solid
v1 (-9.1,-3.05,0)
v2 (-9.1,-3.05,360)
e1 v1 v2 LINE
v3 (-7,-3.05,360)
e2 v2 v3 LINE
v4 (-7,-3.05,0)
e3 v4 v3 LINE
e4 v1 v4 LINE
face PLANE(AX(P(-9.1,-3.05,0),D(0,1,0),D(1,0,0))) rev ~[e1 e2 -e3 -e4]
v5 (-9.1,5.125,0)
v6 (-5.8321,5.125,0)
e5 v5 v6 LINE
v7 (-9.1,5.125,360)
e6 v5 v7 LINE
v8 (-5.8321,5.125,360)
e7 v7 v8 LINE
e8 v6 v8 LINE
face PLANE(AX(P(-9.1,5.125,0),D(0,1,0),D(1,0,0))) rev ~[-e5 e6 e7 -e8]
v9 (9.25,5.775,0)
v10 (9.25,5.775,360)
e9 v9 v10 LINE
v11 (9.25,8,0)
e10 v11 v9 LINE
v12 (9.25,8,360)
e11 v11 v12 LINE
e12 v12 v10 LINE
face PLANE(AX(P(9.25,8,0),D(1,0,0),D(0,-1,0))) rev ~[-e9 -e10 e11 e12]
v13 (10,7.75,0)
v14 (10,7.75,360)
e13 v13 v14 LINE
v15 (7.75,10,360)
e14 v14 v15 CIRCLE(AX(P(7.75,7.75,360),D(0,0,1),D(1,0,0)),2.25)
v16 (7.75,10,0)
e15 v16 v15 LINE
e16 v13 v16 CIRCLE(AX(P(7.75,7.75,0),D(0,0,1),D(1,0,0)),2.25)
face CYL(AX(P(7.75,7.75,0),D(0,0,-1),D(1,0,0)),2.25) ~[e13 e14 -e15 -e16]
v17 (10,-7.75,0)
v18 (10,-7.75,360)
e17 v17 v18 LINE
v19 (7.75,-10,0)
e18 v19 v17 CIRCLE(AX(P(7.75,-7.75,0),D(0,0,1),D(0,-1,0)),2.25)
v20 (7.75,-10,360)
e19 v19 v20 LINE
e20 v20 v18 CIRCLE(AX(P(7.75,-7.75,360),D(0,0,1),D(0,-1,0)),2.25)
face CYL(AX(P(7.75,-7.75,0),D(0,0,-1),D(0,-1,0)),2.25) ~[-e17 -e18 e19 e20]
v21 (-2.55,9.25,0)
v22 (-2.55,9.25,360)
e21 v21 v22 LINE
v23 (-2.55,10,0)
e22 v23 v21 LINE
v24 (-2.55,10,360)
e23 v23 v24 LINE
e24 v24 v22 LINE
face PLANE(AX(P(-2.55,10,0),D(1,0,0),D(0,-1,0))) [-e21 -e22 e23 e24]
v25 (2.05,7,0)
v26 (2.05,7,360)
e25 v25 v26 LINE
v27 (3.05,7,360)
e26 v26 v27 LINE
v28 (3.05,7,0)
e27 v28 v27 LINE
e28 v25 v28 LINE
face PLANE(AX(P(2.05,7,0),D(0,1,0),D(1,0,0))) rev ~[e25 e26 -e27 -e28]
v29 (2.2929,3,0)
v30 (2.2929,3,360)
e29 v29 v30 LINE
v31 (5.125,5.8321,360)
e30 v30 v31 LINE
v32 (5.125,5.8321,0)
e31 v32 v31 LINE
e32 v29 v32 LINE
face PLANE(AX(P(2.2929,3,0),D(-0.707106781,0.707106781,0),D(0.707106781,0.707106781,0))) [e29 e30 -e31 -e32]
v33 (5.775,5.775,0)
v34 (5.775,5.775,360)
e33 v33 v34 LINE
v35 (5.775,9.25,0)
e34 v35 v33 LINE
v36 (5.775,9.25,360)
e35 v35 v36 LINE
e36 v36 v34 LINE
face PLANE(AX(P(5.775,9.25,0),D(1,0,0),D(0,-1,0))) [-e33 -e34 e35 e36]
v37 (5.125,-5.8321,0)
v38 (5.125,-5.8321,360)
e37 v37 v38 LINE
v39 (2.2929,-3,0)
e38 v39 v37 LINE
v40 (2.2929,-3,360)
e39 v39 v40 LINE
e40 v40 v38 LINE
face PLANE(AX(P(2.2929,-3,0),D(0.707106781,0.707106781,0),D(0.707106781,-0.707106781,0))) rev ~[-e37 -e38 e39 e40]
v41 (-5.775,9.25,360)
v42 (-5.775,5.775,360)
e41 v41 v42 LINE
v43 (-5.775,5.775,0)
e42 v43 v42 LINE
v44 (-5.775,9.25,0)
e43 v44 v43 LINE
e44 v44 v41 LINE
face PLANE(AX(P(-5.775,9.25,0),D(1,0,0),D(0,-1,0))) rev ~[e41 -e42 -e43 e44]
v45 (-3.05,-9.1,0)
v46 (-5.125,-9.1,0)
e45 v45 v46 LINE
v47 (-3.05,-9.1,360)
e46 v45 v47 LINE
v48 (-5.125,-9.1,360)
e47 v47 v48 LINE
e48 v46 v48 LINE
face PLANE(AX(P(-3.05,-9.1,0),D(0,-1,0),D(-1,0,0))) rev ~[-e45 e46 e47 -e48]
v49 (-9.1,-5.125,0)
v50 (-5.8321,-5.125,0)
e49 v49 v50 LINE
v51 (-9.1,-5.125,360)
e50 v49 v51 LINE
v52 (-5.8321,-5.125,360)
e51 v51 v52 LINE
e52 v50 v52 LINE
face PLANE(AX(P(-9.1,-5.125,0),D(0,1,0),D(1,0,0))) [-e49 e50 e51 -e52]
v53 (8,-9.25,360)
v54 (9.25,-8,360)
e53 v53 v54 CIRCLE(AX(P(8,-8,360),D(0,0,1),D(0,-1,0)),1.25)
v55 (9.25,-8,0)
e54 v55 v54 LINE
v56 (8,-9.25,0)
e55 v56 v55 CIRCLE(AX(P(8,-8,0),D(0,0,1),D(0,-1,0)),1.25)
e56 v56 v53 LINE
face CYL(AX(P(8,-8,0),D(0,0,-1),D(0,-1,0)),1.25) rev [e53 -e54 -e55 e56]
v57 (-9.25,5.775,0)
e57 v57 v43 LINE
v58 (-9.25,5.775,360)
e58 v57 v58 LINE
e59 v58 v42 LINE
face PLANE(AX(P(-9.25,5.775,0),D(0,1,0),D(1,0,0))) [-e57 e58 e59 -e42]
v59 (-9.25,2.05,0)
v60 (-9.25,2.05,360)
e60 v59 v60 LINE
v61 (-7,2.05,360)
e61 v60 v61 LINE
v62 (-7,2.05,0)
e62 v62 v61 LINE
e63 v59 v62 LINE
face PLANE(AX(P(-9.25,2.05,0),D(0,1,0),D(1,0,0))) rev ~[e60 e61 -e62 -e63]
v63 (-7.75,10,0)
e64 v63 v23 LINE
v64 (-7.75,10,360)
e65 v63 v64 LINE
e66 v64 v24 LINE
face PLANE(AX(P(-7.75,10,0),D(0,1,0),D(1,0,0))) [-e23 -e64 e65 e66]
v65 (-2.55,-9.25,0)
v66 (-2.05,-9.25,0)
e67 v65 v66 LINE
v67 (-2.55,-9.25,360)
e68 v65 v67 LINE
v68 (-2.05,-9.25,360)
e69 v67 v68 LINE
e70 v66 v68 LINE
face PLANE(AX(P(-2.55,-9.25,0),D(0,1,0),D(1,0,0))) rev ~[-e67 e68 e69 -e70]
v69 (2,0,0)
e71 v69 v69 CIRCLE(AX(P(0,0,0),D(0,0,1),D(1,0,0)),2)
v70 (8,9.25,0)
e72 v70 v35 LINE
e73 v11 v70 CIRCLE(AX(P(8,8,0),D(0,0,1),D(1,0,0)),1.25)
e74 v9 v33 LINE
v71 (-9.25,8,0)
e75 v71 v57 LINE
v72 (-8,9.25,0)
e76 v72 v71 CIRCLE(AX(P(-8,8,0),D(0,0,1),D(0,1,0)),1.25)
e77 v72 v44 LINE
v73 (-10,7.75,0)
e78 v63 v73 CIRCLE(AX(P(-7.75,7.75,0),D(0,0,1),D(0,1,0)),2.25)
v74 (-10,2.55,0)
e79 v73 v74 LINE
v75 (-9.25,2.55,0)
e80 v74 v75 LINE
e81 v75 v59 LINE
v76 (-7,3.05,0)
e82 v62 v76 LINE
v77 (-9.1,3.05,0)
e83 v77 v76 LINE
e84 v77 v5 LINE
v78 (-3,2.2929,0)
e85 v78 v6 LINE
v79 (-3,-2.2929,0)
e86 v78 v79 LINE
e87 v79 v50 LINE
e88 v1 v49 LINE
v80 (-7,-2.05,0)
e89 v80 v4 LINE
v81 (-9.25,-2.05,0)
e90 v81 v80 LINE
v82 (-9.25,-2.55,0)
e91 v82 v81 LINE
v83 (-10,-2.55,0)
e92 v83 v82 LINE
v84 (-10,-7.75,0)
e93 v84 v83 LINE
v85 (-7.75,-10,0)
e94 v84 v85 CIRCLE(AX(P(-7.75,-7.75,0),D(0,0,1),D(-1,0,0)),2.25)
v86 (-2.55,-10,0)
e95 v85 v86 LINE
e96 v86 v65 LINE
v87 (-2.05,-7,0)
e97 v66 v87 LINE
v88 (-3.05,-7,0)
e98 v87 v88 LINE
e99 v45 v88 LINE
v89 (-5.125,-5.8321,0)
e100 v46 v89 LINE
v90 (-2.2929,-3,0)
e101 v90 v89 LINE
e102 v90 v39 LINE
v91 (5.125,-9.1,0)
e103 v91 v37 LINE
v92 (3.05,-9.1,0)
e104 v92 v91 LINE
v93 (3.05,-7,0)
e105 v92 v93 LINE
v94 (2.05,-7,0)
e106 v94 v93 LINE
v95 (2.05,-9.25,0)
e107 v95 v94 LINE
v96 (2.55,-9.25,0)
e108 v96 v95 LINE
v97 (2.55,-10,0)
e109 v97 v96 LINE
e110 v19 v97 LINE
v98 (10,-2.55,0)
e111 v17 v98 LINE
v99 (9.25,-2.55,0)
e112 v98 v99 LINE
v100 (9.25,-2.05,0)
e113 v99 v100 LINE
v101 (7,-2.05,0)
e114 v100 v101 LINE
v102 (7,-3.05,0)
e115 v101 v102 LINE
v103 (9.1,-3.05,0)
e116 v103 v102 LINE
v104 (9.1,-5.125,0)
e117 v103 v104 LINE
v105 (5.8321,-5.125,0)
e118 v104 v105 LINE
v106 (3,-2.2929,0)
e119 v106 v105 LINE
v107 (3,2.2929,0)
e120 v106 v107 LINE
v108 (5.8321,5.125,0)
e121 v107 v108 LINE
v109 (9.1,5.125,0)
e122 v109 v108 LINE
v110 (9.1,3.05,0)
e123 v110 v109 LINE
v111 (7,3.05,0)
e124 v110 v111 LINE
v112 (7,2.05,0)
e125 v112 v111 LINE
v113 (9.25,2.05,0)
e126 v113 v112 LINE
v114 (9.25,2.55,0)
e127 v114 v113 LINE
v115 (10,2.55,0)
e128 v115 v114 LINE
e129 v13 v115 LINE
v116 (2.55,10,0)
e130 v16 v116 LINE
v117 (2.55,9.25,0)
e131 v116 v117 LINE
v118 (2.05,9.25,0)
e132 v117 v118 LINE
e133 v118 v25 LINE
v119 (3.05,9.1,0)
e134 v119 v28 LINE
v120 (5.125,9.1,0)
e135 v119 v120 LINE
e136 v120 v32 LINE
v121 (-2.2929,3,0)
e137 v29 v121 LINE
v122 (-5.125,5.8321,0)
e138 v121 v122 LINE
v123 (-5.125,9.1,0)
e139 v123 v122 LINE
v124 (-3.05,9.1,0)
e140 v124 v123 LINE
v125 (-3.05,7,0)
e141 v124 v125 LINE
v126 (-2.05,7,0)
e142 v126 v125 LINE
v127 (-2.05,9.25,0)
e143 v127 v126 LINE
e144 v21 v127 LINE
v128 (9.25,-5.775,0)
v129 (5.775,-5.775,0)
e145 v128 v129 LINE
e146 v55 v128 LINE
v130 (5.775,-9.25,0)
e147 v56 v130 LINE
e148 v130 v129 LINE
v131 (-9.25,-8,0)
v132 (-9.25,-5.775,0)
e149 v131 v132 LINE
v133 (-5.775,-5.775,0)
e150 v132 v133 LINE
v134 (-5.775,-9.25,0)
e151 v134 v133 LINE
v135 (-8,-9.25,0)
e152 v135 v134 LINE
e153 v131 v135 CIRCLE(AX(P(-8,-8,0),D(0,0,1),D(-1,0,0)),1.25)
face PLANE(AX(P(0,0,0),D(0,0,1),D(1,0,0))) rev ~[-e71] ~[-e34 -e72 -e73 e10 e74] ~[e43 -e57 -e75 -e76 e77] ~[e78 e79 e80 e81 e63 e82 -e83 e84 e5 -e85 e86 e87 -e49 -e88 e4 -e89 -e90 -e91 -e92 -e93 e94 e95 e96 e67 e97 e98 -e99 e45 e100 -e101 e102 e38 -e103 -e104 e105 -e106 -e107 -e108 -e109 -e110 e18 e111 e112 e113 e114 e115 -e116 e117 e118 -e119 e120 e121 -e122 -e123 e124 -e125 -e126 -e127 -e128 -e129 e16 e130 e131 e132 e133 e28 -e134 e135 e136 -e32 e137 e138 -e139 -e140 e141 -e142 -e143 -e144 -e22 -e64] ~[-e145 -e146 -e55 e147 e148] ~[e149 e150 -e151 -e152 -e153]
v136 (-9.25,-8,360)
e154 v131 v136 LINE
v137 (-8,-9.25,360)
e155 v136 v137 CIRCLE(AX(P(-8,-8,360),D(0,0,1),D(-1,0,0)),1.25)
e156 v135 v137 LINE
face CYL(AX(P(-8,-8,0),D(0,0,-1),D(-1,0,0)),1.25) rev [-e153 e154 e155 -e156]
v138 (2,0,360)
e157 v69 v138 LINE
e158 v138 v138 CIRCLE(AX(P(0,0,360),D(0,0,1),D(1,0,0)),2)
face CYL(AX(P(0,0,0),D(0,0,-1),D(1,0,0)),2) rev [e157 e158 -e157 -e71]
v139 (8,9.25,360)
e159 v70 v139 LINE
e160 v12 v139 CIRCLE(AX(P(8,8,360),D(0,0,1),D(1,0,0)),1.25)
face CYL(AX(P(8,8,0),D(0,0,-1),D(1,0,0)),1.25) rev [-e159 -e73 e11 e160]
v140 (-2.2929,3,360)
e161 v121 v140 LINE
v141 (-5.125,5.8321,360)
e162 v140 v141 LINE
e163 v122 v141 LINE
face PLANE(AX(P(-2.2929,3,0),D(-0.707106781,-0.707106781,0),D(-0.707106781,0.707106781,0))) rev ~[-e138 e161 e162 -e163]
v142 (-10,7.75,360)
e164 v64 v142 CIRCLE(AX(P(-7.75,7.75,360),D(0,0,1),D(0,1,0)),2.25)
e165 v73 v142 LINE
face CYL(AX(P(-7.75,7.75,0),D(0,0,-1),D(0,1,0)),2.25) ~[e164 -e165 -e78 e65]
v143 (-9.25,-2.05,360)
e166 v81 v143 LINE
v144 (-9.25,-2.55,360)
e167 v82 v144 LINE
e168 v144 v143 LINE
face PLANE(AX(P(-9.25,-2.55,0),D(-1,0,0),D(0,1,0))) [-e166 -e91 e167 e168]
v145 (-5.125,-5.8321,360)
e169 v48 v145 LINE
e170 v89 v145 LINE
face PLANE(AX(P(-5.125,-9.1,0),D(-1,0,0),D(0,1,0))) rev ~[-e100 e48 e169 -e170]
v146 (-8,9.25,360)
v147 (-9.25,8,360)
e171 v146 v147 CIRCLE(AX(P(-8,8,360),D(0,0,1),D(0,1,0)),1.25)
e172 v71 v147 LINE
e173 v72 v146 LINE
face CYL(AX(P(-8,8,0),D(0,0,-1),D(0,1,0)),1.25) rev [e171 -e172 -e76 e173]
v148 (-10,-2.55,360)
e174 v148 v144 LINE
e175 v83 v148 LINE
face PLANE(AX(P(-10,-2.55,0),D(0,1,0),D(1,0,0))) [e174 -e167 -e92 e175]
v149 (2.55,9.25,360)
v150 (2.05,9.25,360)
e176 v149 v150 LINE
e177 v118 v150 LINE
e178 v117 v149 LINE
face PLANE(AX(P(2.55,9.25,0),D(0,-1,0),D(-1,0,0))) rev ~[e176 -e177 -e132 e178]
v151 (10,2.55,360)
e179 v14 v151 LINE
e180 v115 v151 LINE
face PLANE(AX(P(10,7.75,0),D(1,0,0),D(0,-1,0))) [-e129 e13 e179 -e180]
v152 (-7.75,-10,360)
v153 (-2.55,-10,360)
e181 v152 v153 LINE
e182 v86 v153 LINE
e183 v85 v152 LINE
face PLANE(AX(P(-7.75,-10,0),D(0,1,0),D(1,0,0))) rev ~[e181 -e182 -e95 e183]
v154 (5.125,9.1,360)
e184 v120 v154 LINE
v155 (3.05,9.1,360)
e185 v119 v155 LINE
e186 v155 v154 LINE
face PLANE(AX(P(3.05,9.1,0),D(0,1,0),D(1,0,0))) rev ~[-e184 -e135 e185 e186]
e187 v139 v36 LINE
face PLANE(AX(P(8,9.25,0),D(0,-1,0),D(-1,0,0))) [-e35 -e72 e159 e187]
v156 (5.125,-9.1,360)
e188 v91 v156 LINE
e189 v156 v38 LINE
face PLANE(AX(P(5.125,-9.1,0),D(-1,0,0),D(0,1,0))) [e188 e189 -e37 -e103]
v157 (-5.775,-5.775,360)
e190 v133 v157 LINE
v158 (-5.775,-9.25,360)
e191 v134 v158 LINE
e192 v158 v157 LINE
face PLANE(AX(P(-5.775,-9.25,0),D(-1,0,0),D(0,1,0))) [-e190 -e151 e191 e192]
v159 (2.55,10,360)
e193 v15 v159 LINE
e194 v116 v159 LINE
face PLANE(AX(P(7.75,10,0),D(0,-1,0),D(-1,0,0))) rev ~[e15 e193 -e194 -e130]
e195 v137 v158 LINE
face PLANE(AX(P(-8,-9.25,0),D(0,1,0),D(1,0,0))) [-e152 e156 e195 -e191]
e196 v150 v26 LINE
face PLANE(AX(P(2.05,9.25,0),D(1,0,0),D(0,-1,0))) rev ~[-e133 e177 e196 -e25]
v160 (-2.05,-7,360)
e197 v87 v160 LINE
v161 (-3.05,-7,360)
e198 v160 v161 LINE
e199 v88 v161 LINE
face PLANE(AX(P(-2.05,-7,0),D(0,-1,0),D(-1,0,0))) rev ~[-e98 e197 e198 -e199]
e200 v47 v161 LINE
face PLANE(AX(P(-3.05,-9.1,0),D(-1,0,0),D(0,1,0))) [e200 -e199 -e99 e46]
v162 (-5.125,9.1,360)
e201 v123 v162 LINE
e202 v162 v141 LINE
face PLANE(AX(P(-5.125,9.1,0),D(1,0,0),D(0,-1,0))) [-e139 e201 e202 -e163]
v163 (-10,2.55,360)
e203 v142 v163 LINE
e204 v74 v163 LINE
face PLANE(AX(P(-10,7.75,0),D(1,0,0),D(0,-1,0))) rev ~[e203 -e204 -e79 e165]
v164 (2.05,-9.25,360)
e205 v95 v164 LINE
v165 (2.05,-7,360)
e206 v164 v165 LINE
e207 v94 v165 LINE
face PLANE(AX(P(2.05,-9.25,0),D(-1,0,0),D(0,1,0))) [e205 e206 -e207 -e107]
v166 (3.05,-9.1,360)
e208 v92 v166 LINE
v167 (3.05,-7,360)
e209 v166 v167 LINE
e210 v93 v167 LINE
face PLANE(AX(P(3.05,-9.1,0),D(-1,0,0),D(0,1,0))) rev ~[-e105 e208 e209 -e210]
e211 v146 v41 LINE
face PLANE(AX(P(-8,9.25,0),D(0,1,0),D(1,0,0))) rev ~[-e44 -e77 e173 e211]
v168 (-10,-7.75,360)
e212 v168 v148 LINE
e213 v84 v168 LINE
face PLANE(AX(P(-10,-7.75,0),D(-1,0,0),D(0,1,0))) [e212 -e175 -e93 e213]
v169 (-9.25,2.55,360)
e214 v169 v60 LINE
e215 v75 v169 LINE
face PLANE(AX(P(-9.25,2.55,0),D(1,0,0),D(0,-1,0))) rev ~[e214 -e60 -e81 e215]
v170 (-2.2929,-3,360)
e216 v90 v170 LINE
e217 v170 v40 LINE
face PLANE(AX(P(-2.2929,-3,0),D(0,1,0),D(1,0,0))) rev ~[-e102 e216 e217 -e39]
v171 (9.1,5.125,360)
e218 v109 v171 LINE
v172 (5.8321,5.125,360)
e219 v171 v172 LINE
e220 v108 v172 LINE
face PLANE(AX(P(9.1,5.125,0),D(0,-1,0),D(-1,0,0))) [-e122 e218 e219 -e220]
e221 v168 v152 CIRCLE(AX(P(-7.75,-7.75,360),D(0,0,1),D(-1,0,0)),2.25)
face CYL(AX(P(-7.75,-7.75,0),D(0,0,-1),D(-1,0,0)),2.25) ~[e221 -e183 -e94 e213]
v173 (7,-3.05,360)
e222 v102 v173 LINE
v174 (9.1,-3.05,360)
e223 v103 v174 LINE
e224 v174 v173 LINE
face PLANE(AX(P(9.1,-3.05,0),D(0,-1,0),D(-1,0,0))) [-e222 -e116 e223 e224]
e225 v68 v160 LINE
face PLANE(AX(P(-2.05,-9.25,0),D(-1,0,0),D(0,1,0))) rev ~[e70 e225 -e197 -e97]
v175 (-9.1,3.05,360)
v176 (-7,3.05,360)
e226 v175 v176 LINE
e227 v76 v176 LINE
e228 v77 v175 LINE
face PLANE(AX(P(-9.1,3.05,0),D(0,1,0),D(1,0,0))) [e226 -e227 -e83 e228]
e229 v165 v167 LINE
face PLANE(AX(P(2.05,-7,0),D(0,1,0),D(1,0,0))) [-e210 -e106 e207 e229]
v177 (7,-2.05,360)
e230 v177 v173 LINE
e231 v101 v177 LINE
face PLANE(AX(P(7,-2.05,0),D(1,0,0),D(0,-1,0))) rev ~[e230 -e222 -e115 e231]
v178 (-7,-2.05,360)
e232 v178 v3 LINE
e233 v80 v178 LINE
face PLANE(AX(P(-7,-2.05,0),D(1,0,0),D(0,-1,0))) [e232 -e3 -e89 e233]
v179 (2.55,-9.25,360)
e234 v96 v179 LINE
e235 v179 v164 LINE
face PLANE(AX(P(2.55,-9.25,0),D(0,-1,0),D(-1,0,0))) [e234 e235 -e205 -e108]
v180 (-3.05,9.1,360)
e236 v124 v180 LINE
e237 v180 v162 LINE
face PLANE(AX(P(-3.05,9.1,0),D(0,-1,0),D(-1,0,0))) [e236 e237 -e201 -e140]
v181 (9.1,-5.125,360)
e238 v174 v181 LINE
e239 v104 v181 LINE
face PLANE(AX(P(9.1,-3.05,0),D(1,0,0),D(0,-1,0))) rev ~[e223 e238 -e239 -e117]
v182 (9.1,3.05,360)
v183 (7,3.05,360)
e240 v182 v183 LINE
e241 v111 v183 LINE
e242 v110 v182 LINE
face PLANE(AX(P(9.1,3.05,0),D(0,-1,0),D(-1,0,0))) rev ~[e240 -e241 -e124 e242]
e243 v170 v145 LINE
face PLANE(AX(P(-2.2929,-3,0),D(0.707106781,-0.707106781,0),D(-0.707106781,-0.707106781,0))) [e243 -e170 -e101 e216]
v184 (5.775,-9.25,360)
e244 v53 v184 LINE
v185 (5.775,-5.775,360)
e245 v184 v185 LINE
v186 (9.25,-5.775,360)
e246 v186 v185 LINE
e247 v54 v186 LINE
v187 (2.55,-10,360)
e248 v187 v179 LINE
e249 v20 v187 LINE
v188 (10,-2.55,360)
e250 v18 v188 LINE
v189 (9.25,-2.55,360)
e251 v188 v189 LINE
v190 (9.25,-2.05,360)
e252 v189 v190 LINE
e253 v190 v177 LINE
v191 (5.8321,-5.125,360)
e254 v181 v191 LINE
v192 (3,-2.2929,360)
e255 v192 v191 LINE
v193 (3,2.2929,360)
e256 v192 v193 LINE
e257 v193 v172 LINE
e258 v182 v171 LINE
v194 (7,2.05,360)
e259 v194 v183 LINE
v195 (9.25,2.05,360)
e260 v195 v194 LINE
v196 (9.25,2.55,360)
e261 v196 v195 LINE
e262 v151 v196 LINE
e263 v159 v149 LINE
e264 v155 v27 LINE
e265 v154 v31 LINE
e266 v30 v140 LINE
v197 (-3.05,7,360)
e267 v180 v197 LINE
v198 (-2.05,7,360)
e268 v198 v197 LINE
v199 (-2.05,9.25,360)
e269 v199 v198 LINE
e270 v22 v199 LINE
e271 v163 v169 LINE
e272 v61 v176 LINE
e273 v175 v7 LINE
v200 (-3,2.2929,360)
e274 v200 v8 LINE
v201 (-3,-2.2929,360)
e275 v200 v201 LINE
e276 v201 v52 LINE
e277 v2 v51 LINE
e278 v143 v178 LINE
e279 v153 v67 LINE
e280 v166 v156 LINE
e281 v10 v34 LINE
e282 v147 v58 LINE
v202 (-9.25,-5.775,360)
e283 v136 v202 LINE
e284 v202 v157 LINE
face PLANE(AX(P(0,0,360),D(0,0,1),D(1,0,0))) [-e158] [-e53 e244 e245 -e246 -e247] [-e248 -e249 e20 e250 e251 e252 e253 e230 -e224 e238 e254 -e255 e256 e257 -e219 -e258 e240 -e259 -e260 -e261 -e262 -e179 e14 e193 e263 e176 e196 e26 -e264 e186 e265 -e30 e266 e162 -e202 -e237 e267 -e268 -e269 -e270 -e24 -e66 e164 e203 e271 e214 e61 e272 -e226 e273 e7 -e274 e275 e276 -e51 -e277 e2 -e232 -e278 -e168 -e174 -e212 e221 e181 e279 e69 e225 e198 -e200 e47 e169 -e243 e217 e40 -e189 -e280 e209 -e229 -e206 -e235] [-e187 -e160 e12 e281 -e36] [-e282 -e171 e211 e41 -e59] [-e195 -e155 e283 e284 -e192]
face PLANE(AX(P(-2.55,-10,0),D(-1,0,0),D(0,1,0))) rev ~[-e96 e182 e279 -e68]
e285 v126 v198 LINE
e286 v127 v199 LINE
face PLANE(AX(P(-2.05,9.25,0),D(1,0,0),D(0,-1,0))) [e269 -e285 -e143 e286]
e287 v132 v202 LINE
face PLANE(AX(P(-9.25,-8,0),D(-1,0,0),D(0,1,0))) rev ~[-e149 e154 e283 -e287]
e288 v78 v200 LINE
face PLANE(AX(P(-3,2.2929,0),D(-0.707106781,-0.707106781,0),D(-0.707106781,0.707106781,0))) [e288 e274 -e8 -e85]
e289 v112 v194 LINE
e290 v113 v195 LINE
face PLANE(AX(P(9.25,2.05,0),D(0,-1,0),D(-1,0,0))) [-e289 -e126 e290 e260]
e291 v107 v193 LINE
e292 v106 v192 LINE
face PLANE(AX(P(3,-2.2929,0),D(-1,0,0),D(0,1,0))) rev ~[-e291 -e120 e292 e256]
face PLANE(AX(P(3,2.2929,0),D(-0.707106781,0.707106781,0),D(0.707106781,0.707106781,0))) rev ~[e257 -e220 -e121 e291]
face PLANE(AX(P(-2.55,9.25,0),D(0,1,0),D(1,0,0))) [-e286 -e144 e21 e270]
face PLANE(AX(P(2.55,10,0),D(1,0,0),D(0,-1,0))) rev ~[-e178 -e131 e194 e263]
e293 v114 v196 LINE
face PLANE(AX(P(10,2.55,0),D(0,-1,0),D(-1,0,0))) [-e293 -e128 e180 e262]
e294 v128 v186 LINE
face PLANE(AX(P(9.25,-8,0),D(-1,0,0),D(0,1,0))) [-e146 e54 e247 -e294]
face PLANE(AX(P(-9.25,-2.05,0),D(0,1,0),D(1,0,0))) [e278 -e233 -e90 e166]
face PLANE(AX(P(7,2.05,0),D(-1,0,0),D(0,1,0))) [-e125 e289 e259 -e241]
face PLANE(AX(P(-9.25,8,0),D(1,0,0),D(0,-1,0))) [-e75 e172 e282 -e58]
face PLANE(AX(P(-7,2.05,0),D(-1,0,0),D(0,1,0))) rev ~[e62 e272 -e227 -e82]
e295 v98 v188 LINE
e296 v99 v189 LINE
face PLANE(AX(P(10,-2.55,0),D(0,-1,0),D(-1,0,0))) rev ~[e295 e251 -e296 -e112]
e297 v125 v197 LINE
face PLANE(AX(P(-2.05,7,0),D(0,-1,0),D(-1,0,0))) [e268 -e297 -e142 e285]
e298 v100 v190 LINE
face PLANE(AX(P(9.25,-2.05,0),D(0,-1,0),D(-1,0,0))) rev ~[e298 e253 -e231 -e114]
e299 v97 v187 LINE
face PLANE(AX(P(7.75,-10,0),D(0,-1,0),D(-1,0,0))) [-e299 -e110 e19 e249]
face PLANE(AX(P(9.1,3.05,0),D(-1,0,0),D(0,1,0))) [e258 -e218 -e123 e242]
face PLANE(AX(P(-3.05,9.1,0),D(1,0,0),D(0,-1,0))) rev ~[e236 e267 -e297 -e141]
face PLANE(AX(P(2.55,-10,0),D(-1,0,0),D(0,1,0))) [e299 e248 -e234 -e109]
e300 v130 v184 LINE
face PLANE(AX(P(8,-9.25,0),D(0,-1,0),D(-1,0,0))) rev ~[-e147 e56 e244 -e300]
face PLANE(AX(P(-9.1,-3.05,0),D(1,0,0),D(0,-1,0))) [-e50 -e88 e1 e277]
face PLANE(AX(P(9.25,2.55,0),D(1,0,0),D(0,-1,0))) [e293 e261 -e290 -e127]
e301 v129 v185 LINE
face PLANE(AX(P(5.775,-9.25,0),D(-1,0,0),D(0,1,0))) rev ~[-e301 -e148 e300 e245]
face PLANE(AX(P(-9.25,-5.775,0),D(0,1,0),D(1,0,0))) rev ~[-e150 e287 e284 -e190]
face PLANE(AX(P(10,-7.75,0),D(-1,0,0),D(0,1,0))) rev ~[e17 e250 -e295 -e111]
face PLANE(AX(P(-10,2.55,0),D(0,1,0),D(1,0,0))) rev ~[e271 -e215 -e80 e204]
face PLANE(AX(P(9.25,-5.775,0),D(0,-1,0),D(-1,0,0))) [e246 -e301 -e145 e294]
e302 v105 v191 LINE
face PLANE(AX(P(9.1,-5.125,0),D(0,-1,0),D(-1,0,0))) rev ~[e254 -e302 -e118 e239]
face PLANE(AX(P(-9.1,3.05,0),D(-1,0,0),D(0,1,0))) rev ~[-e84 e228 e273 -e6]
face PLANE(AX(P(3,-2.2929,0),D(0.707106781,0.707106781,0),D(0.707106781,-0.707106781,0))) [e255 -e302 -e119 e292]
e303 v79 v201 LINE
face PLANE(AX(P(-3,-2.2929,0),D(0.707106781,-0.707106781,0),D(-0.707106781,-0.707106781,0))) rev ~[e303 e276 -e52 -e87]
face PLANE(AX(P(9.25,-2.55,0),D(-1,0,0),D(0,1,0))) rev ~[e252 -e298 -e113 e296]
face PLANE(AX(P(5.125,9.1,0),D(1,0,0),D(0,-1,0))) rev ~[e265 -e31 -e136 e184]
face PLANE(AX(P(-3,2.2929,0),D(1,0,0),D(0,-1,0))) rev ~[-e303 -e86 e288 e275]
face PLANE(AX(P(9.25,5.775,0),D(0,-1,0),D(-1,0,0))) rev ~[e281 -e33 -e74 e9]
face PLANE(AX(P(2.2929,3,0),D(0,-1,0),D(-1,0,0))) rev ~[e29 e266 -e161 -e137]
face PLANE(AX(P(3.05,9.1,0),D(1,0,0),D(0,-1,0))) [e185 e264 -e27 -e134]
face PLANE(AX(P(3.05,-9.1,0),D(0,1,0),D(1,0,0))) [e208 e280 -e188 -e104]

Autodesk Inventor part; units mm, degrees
ref_plane "YZ Plane" through (0, 0, 0) normal (1, 0, 0) x (0, 1, 0)
ref_plane "XZ Plane" through (0, 0, 0) normal (0, 1, 0) x (-1, 0, 0)
ref_plane "XY Plane" through (0, 0, 0) normal (0, 0, 1) x (1, 0, 0)
sketch "Sketch1" plane through (0, 0, 0) normal (0, 0, 1) x (1, 0, 0)
  line L0 (-2.55, -10) -> (-2.55, -9.25)
  line L1 (-2.55, -9.25) -> (-2.05, -9.25)
  line L2 (-7.75, -10) -> (-2.55, -10)
  line L3 (-2.05, -9.25) -> (-2.05, -7)
  line L4 (-2.05, -7) -> (-3.05, -7)
  line L5 (-3.05, -9.1) -> (-3.05, -7)
  line L6 (-3.05, -9.1) -> (-5.125, -9.1)
  line L7 (-5.125, -9.1) -> (-5.125, -5.8321)
  line L8 (-8, -9.25) -> (-5.775, -9.25)
  line L9 (-5.775, -9.25) -> (-5.775, -5.775)
  line L10 (-2.2929, -3) -> (2.2929, -3)
  line L11 (3, -2.2929) -> (3, 2.2929)
  line L12 (2.2929, 3) -> (-2.2929, 3)
  line L13 (-3, 2.2929) -> (-3, -2.2929)
  line L14 (-2.2929, -3) -> (-5.125, -5.8321)
  line L15 (-3, -2.2929) -> (-5.8321, -5.125)
  line L16 (-9.1, -5.125) -> (-5.8321, -5.125)
  line L17 (-9.25, -5.775) -> (-5.775, -5.775)
  line L18 (-9.25, -8) -> (-9.25, -5.775)
  line L19 (-10, -7.75) -> (-10, -2.55)
  line L20 (-9.1, -3.05) -> (-9.1, -5.125)
  line L21 (-9.1, -3.05) -> (-7, -3.05)
  line L22 (-9.25, -2.55) -> (-9.25, -2.05)
  line L23 (-9.25, -2.05) -> (-7, -2.05)
  line L24 (-7, -2.05) -> (-7, -3.05)
  line L25 (-10, -2.55) -> (-9.25, -2.55)
  arc A0 (-9.25, -8) -> (-8, -9.25) centre (-8, -8) ccw
  arc A1 (-10, -7.75) -> (-7.75, -10) centre (-7.75, -7.75) ccw
  line L26 (3, -2.2929) -> (5.8321, -5.125)
  line L27 (2.2929, -3) -> (5.125, -5.8321)
  line L28 (5.775, -9.25) -> (5.775, -5.775)
  line L29 (8, -9.25) -> (5.775, -9.25)
  line L30 (7.75, -10) -> (2.55, -10)
  line L31 (3.05, -9.1) -> (5.125, -9.1)
  line L32 (2.55, -10) -> (2.55, -9.25)
  line L33 (3.05, -9.1) -> (3.05, -7)
  line L34 (2.05, -9.25) -> (2.05, -7)
  line L35 (2.55, -9.25) -> (2.05, -9.25)
  line L36 (2.05, -7) -> (3.05, -7)
  line L37 (5.125, -9.1) -> (5.125, -5.8321)
  arc A2 (8, -9.25) -> (9.25, -8) centre (8, -8) ccw
  arc A3 (7.75, -10) -> (10, -7.75) centre (7.75, -7.75) ccw
  line L38 (9.25, -8) -> (9.25, -5.775)
  line L39 (10, -7.75) -> (10, -2.55)
  line L40 (9.25, -5.775) -> (5.775, -5.775)
  line L41 (9.1, -5.125) -> (5.8321, -5.125)
  line L42 (9.1, -3.05) -> (7, -3.05)
  line L43 (7, -2.05) -> (7, -3.05)
  line L44 (9.25, -2.05) -> (7, -2.05)
  line L45 (9.25, -2.55) -> (9.25, -2.05)
  line L46 (10, -2.55) -> (9.25, -2.55)
  line L47 (9.1, -3.05) -> (9.1, -5.125)
  line L48 (2.2929, 3) -> (5.125, 5.8321)
  line L49 (3, 2.2929) -> (5.8321, 5.125)
  line L50 (9.25, 5.775) -> (5.775, 5.775)
  line L51 (9.25, 8) -> (9.25, 5.775)
  line L52 (10, 7.75) -> (10, 2.55)
  line L53 (9.1, 3.05) -> (9.1, 5.125)
  line L54 (10, 2.55) -> (9.25, 2.55)
  line L55 (9.1, 3.05) -> (7, 3.05)
  line L56 (9.25, 2.05) -> (7, 2.05)
  line L57 (9.25, 2.55) -> (9.25, 2.05)
  line L58 (7, 2.05) -> (7, 3.05)
  line L59 (9.1, 5.125) -> (5.8321, 5.125)
  arc A4 (9.25, 8) -> (8, 9.25) centre (8, 8) ccw
  arc A5 (10, 7.75) -> (7.75, 10) centre (7.75, 7.75) ccw
  line L60 (8, 9.25) -> (5.775, 9.25)
  line L61 (7.75, 10) -> (2.55, 10)
  line L62 (5.775, 9.25) -> (5.775, 5.775)
  line L63 (5.125, 9.1) -> (5.125, 5.8321)
  line L64 (3.05, 9.1) -> (3.05, 7)
  line L65 (2.05, 7) -> (3.05, 7)
  line L66 (2.05, 9.25) -> (2.05, 7)
  line L67 (2.55, 9.25) -> (2.05, 9.25)
  line L68 (2.55, 10) -> (2.55, 9.25)
  line L69 (3.05, 9.1) -> (5.125, 9.1)
  line L70 (-3, 2.2929) -> (-5.8321, 5.125)
  line L71 (-2.2929, 3) -> (-5.125, 5.8321)
  line L72 (-5.775, 9.25) -> (-5.775, 5.775)
  line L73 (-8, 9.25) -> (-5.775, 9.25)
  line L74 (-7.75, 10) -> (-2.55, 10)
  line L75 (-3.05, 9.1) -> (-5.125, 9.1)
  line L76 (-2.55, 10) -> (-2.55, 9.25)
  line L77 (-3.05, 9.1) -> (-3.05, 7)
  line L78 (-2.05, 9.25) -> (-2.05, 7)
  line L79 (-2.55, 9.25) -> (-2.05, 9.25)
  line L80 (-2.05, 7) -> (-3.05, 7)
  line L81 (-5.125, 9.1) -> (-5.125, 5.8321)
  arc A6 (-8, 9.25) -> (-9.25, 8) centre (-8, 8) ccw
  arc A7 (-7.75, 10) -> (-10, 7.75) centre (-7.75, 7.75) ccw
  line L82 (-9.25, 8) -> (-9.25, 5.775)
  line L83 (-10, 7.75) -> (-10, 2.55)
  line L84 (-9.25, 5.775) -> (-5.775, 5.775)
  line L85 (-9.1, 5.125) -> (-5.8321, 5.125)
  line L86 (-9.1, 3.05) -> (-7, 3.05)
  line L87 (-7, 2.05) -> (-7, 3.05)
  line L88 (-9.25, 2.05) -> (-7, 2.05)
  line L89 (-9.25, 2.55) -> (-9.25, 2.05)
  line L90 (-10, 2.55) -> (-9.25, 2.55)
  line L91 (-9.1, 3.05) -> (-9.1, 5.125)
  circle A8 centre (0, 0) radius 2
  point P0 (-10, -10)
  point P1 (10, -10)
  point P2 (10, 10)
  point P3 (-10, 10)
  dimension "d2" = 0.75
  dimension "d3" = 7.45
  dimension "d4" = 2.25
  dimension "d5" = 1
  dimension "d6" = 2.1
  dimension "d7" = 0.75
  dimension "d8" = 0.65
  dimension "d9" = 1.25
  dimension "d10" = 2.25
  dimension "d11" = 360
  dimension "d12" = 4
  dimension "d13" = 20
extrude "Extrusion1" add sketch "Sketch1" along normal blind 360
properties part number "2020 dai 360"
